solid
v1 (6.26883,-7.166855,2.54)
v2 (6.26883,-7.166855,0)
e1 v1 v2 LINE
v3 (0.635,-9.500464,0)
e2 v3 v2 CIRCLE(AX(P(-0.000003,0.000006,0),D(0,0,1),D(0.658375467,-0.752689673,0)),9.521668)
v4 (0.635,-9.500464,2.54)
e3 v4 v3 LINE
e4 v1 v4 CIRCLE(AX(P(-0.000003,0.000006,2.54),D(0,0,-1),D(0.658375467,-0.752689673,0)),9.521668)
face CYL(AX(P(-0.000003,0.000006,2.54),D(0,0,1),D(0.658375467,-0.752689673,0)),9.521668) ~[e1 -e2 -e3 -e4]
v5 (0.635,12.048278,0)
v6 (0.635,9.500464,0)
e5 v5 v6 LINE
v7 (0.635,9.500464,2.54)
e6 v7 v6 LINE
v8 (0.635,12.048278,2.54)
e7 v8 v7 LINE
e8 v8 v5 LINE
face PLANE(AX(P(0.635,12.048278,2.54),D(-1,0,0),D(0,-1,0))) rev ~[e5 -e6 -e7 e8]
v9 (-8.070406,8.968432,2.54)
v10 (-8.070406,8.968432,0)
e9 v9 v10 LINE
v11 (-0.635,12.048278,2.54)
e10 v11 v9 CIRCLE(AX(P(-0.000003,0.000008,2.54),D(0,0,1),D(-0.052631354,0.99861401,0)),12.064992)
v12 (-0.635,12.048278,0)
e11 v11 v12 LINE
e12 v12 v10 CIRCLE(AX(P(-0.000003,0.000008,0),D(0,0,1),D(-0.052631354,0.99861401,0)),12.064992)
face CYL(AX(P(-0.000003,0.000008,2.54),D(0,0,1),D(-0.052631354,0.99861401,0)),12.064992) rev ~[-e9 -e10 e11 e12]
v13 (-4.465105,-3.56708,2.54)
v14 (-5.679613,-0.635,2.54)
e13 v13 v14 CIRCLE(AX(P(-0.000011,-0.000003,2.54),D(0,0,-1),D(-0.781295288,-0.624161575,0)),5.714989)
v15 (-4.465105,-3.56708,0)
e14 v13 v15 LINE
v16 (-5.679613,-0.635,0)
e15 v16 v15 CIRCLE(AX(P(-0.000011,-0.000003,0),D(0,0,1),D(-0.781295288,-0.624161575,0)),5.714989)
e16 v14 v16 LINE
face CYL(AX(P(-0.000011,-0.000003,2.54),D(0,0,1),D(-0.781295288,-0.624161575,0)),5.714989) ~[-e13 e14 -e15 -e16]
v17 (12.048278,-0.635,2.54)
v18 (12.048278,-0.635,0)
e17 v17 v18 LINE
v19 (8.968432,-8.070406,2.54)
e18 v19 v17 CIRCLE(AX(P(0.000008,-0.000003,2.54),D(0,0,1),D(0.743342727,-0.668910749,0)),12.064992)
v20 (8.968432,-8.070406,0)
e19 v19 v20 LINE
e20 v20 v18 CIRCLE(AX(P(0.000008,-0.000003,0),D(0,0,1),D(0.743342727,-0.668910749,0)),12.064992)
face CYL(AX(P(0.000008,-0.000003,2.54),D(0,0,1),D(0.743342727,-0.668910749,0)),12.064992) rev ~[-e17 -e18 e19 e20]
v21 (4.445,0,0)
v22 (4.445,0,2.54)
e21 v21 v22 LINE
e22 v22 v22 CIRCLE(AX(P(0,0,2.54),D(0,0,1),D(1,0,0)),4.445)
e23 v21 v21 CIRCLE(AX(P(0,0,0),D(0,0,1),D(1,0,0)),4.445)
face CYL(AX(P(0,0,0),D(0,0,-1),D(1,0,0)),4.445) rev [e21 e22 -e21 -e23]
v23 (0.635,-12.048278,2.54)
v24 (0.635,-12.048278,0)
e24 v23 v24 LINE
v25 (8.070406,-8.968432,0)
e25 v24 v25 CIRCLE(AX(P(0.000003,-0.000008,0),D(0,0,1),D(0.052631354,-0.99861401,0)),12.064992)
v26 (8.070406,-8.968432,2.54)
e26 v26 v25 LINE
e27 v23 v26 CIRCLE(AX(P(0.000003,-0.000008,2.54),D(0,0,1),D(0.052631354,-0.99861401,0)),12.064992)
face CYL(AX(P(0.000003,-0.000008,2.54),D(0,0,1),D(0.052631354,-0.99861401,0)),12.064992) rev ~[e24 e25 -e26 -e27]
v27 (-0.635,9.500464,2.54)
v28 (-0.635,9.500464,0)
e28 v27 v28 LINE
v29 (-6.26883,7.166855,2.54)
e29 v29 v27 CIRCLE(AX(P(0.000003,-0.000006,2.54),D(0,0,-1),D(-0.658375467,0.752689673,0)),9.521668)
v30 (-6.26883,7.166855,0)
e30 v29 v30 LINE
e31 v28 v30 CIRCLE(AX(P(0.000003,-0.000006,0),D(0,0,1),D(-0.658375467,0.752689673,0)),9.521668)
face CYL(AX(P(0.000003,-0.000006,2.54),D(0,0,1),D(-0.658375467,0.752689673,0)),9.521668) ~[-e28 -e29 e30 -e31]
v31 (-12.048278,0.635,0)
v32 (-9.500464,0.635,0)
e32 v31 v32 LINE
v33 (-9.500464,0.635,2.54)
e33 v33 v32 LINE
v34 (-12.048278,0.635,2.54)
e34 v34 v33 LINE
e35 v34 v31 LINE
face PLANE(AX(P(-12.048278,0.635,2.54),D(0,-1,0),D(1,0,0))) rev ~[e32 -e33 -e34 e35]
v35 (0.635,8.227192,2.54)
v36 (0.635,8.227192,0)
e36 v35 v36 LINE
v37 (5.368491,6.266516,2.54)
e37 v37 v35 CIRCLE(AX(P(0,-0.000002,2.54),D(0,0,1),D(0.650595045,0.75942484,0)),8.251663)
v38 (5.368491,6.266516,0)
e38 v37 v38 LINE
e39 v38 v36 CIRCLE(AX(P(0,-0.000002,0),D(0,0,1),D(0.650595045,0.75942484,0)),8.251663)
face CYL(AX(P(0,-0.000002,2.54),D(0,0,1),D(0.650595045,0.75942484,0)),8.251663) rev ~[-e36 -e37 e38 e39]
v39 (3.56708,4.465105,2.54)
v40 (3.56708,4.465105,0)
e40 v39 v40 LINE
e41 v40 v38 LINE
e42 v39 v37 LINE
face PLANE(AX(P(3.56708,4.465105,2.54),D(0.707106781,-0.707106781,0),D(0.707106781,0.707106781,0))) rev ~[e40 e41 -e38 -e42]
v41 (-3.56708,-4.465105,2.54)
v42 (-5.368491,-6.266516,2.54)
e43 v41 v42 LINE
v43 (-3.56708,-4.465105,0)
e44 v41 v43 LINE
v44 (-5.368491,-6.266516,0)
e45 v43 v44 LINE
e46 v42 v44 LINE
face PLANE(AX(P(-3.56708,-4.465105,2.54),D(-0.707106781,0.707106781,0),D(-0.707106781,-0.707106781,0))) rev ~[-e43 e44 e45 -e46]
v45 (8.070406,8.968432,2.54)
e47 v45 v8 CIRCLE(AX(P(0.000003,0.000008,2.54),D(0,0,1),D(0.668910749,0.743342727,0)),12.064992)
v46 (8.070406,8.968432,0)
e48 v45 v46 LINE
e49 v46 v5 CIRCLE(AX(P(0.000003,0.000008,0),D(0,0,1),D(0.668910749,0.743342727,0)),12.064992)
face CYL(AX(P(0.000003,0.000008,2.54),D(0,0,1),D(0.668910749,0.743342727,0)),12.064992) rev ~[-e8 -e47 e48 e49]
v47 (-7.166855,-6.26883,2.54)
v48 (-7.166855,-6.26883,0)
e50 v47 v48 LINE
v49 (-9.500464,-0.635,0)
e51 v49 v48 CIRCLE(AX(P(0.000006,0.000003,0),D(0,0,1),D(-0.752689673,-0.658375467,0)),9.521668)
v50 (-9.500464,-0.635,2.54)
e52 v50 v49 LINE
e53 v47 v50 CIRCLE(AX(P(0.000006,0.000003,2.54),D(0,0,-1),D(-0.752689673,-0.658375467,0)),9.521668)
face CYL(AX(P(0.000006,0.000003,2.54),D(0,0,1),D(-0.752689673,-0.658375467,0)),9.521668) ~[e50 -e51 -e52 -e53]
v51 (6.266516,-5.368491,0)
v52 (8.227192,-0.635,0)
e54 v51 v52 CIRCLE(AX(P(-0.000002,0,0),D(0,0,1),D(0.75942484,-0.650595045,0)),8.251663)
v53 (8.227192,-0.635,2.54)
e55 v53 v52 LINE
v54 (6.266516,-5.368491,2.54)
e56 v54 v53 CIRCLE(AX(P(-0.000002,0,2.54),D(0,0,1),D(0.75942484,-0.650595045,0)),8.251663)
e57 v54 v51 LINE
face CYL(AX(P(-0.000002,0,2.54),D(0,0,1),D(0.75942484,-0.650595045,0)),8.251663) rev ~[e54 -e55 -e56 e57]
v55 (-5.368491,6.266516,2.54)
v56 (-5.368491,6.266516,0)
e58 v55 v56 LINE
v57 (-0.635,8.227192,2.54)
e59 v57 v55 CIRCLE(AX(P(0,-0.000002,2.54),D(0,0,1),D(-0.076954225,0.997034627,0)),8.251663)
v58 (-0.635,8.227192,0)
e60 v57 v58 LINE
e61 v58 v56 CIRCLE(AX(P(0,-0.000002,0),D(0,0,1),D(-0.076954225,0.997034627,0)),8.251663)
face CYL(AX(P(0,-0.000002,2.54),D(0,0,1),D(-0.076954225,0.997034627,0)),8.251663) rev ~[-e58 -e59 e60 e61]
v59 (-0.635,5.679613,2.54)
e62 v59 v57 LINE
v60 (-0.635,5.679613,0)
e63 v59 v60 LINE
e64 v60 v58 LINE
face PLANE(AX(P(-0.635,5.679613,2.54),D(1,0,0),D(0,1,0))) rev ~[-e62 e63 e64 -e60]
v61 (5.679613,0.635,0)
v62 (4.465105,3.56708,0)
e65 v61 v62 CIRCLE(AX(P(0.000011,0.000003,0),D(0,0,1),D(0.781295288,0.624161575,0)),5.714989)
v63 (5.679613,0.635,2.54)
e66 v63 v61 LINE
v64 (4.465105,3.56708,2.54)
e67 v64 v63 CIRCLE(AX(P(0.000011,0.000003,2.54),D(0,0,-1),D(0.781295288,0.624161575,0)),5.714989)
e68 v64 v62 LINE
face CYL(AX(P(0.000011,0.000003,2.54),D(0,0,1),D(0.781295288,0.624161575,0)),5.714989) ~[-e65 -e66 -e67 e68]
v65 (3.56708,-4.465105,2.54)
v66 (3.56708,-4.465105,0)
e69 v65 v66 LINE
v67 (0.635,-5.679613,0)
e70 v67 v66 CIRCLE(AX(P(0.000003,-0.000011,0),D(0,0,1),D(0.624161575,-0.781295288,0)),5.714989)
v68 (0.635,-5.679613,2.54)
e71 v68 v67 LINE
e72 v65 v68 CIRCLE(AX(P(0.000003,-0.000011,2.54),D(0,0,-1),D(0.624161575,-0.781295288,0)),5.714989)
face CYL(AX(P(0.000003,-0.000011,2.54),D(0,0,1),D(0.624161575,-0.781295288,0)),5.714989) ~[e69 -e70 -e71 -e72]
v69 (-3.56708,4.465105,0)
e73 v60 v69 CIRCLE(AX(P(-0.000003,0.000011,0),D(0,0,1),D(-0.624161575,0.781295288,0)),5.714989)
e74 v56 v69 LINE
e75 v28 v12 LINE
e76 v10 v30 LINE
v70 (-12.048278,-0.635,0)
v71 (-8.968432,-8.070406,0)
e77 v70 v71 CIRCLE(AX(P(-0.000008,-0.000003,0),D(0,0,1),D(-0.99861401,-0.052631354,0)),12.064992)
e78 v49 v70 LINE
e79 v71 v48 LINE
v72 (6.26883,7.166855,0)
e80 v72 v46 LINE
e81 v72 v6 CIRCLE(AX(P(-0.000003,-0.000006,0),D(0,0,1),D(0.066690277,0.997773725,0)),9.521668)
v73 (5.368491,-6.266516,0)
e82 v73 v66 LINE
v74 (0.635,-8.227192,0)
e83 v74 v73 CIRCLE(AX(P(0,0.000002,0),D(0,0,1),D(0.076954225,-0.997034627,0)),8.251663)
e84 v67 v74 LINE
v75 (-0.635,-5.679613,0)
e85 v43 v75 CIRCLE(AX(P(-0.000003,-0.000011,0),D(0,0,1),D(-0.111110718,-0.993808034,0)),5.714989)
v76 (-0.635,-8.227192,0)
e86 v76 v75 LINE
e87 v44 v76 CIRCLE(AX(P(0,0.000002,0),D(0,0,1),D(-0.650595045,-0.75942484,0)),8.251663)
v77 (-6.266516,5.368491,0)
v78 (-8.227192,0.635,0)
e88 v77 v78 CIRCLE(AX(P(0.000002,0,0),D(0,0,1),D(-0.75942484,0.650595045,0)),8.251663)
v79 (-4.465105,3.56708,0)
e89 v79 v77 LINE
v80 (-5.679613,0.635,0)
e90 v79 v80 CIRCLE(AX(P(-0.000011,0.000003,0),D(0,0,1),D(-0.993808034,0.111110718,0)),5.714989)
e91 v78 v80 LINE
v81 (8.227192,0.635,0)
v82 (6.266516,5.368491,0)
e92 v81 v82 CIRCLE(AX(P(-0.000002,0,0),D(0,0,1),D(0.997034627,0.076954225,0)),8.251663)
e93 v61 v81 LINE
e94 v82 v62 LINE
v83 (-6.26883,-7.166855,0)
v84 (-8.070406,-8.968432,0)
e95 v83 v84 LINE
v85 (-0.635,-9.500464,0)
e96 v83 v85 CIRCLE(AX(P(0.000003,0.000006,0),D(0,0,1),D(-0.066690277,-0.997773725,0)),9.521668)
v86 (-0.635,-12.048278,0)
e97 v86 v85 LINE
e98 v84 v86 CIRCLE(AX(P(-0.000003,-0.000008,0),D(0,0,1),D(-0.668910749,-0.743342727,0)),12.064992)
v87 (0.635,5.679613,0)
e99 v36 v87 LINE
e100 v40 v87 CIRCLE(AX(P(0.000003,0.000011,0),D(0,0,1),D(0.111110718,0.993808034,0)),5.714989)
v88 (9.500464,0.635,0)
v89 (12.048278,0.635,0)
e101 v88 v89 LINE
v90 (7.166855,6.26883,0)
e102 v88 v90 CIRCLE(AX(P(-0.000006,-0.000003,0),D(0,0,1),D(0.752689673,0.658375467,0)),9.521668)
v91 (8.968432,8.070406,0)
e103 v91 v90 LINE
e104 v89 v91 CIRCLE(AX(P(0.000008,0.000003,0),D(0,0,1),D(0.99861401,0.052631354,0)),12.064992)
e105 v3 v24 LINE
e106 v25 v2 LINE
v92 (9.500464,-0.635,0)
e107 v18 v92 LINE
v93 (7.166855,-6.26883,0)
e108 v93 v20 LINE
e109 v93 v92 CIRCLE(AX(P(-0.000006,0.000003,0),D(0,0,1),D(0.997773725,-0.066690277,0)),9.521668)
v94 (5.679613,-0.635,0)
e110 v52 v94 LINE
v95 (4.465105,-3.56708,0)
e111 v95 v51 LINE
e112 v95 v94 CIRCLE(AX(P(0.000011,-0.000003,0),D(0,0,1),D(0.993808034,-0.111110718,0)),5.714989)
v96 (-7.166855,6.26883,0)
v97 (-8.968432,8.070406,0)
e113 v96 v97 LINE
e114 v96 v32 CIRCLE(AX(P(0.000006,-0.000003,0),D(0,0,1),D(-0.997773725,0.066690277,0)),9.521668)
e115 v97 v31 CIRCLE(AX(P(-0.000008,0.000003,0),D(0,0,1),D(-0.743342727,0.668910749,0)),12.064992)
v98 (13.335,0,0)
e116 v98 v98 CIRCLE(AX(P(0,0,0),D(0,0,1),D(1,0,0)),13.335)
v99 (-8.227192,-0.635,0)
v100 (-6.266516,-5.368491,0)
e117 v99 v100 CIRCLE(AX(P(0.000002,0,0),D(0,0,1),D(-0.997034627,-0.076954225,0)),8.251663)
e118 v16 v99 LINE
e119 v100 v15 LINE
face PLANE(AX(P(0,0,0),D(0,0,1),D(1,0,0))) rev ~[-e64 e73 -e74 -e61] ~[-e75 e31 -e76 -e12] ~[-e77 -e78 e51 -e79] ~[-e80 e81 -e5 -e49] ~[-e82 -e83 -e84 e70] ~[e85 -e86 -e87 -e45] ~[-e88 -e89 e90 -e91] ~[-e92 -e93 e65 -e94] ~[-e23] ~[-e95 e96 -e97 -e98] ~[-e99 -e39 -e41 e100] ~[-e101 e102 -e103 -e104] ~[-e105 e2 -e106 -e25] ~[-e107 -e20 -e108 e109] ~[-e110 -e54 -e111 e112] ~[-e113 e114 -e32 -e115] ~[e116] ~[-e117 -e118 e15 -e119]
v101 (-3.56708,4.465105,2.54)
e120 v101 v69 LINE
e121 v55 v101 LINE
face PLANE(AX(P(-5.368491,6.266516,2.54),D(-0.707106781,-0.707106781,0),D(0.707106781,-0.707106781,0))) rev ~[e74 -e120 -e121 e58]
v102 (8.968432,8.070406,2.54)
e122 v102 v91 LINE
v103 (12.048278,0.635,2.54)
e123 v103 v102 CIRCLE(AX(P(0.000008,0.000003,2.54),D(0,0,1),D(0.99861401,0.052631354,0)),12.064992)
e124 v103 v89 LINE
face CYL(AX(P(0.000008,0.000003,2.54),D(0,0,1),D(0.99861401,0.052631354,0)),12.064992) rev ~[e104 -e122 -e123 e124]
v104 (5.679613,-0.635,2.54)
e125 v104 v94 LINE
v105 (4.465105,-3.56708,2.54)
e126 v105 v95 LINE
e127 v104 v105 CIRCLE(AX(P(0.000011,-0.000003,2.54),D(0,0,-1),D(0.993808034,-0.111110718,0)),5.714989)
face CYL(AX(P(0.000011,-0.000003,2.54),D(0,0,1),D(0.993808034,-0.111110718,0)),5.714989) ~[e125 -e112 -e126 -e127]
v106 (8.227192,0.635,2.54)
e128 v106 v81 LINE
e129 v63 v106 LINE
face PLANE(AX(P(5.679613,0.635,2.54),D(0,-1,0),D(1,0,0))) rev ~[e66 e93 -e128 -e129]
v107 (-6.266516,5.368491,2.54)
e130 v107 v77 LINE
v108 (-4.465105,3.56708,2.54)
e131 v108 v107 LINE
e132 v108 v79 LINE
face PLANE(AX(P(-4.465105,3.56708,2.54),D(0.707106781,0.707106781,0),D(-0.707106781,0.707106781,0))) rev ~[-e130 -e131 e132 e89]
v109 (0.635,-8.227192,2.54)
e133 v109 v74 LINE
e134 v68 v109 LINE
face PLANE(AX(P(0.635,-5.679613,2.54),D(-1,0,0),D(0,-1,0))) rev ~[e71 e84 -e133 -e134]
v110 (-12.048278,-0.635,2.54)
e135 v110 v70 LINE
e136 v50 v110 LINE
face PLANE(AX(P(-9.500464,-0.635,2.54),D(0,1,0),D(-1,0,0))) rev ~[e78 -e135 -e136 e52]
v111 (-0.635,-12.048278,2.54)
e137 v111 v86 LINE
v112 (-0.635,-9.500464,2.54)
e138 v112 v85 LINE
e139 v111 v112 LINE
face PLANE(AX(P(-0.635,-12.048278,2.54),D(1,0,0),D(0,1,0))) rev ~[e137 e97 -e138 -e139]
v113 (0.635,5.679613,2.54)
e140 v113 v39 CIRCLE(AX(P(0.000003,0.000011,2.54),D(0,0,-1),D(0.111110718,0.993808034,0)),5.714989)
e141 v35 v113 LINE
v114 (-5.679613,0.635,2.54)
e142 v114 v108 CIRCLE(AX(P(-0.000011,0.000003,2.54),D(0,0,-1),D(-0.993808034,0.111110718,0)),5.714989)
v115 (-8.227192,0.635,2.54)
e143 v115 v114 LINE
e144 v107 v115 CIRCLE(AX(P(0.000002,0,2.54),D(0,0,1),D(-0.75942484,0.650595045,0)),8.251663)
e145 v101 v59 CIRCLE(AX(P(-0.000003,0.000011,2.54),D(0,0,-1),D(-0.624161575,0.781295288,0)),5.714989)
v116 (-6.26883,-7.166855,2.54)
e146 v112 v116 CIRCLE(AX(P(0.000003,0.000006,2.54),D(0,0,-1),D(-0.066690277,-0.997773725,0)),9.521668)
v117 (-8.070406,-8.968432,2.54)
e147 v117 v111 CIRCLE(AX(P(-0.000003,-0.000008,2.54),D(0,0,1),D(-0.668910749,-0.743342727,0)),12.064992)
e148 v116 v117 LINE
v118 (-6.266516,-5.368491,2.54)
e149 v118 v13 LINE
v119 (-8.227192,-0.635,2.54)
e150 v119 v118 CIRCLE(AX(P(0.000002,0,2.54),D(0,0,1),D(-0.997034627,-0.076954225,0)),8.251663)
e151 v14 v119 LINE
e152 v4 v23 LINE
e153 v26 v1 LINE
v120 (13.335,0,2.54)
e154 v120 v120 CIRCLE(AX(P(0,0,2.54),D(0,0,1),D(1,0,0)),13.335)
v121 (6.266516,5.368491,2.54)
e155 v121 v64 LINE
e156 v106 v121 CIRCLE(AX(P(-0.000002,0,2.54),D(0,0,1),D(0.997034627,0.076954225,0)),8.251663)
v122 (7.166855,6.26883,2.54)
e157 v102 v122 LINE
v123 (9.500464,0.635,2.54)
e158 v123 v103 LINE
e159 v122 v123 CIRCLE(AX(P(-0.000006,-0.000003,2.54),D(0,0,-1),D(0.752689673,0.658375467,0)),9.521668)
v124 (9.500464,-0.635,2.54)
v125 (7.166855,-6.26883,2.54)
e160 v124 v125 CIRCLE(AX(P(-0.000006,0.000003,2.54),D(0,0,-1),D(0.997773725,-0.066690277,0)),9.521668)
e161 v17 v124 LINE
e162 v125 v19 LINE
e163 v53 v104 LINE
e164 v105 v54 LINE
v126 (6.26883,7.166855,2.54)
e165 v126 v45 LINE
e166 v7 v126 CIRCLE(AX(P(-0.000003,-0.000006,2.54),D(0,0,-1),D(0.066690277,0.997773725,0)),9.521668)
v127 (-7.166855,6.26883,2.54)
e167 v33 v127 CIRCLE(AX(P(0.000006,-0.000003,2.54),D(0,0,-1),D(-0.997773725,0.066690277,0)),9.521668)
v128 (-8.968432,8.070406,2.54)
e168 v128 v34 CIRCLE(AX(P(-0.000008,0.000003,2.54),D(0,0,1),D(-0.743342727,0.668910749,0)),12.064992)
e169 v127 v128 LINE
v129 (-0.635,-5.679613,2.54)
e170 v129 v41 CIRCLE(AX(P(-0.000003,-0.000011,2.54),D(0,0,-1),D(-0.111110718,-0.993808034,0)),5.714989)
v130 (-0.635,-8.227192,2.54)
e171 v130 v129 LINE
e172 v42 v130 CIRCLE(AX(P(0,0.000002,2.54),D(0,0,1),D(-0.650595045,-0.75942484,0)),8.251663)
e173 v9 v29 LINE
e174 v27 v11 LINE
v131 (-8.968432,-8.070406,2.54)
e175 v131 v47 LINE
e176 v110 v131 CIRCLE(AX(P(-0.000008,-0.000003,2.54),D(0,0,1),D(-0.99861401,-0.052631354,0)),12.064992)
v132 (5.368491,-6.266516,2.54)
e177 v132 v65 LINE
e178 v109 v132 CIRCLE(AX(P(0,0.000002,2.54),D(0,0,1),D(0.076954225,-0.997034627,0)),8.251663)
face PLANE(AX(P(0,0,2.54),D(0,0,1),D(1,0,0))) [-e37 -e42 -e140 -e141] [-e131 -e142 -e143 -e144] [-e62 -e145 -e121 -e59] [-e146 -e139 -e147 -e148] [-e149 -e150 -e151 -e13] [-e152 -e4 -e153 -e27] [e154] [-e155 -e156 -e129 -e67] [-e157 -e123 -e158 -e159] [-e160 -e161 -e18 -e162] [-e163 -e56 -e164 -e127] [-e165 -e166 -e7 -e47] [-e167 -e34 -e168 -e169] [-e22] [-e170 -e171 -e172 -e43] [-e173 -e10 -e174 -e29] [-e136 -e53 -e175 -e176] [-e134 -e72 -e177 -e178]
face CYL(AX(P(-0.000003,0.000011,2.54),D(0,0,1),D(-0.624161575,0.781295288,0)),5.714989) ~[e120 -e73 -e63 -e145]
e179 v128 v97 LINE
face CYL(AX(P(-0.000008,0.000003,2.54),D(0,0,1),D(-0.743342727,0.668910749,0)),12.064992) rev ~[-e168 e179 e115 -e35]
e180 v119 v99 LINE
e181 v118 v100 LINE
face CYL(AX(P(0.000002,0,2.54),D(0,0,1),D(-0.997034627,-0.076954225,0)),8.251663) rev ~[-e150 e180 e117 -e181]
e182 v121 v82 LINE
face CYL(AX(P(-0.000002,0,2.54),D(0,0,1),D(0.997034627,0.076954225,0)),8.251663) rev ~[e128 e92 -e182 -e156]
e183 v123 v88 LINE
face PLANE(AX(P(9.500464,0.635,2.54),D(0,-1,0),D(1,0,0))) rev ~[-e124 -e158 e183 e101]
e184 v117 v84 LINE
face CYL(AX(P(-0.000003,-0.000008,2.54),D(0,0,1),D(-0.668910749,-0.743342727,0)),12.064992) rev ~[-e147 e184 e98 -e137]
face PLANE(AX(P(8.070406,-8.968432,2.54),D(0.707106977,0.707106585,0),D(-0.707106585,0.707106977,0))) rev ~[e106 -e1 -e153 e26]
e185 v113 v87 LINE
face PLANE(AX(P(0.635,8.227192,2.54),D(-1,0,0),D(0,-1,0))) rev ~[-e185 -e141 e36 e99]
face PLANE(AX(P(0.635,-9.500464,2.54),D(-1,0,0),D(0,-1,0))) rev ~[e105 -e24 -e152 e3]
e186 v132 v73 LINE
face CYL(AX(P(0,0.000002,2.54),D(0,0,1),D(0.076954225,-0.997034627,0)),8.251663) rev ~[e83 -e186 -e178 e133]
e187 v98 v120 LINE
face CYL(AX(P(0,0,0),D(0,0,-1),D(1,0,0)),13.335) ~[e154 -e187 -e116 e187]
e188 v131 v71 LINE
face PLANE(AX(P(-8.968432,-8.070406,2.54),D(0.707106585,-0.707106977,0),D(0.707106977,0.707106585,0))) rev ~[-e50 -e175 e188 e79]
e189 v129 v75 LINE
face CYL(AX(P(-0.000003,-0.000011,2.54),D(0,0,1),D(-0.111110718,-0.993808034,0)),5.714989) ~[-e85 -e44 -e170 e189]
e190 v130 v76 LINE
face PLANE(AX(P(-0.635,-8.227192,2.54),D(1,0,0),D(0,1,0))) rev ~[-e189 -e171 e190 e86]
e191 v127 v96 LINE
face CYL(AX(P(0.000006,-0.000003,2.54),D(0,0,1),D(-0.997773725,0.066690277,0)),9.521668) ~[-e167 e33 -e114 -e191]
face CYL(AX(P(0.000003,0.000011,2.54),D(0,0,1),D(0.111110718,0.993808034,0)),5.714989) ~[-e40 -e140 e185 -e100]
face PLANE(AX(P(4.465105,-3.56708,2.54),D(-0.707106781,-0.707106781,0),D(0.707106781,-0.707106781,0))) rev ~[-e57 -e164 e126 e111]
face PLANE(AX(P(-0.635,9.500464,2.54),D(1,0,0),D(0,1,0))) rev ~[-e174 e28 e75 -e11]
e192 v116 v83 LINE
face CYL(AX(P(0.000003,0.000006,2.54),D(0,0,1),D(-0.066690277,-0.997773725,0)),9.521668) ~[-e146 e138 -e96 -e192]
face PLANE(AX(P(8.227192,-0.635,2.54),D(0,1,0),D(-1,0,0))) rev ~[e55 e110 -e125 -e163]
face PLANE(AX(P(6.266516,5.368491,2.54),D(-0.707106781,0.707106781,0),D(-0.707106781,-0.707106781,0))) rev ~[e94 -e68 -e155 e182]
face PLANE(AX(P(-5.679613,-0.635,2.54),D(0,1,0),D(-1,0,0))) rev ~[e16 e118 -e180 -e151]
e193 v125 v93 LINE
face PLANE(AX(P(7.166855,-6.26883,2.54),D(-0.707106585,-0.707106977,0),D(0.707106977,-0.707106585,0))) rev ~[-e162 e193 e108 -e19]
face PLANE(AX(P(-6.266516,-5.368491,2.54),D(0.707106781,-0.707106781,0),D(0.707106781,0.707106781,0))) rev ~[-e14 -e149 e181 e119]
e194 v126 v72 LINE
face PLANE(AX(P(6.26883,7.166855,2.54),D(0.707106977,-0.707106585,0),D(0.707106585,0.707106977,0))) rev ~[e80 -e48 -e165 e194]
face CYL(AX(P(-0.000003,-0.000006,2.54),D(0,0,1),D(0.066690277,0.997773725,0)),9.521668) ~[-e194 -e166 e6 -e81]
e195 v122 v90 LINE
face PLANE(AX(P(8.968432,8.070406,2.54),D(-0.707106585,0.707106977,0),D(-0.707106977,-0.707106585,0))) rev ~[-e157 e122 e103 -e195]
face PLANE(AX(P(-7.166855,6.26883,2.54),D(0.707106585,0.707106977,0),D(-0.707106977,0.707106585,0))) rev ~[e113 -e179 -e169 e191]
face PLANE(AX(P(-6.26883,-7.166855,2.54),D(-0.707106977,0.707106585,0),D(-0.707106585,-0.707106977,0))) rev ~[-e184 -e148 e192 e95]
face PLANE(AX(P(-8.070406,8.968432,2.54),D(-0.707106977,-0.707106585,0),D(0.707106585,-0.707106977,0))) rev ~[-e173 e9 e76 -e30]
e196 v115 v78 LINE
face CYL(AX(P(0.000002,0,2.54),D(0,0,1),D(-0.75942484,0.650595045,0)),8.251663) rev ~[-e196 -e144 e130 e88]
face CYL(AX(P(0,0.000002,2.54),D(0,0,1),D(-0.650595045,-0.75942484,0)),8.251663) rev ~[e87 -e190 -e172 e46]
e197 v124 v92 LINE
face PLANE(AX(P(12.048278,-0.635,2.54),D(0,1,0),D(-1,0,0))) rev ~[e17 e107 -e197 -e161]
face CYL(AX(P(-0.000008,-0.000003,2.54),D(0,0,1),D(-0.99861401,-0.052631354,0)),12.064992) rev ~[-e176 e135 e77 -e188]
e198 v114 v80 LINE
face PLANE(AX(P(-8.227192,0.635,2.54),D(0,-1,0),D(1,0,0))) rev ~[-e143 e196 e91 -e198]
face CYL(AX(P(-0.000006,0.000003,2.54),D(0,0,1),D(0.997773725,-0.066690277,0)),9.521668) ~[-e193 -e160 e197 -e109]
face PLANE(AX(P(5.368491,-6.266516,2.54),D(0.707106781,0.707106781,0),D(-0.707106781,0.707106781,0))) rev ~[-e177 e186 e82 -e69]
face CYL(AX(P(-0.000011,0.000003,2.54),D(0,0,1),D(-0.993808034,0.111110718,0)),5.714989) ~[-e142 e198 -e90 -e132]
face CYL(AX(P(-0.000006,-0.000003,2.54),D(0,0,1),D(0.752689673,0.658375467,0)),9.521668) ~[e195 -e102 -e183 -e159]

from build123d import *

# Parameters (mm, degrees)
F0_R     = 13.335
F0_R_2   = 4.445
F1_DEPTH = 2.54
F3_DEPTH = 2.541


with BuildPart() as f1:
    # F0 (on Top) → F1 (new body)
    with BuildSketch(Plane.XY):
        Circle(F0_R)
        Circle(F0_R_2, mode=Mode.SUBTRACT)
    extrude(amount=F1_DEPTH)

    # F2 (on face) → F3 (cut, through all)
    with BuildSketch(Plane.XY.offset(2.54)):
        with BuildLine():
            ThreePointArc((-0.635, -5.679613), (-2.187036, -5.279972), (-3.56708, -4.465105))
            Line((-3.56708, -4.465105), (-5.368491, -6.266516))
            ThreePointArc((-5.368491, -6.266516), (-3.157774, -7.623541), (-0.635, -8.227192))
            Line((-0.635, -8.227192), (-0.635, -5.679613))
        make_face()
        with BuildLine():
            Line((-6.26883, -7.166855), (-8.070406, -8.968432))
            ThreePointArc((-8.070406, -8.968432), (-4.617076, -11.146607), (-0.635, -12.048278))
            Line((-0.635, -12.048278), (-0.635, -9.500464))
            ThreePointArc((-0.635, -9.500464), (-3.643782, -8.796868), (-6.26883, -7.166855))
        make_face()
        with BuildLine():
            Line((0.635, -5.679613), (0.635, -8.227192))
            ThreePointArc((0.635, -8.227192), (3.157774, -7.623541), (5.368491, -6.266516))
            Line((5.368491, -6.266516), (3.56708, -4.465105))
            ThreePointArc((3.56708, -4.465105), (2.187036, -5.279972), (0.635, -5.679613))
        make_face()
        with BuildLine():
            Line((0.635, -9.500464), (0.635, -12.048278))
            ThreePointArc((0.635, -12.048278), (4.617076, -11.146607), (8.070406, -8.968432))
            Line((8.070406, -8.968432), (6.26883, -7.166855))
            ThreePointArc((6.26883, -7.166855), (3.643782, -8.796868), (0.635, -9.500464))
        make_face()
        with BuildLine():
            Line((4.465105, -3.56708), (6.266516, -5.368491))
            ThreePointArc((6.266516, -5.368491), (7.623541, -3.157774), (8.227192, -0.635))
            Line((8.227192, -0.635), (5.679613, -0.635))
            ThreePointArc((5.679613, -0.635), (5.279972, -2.187036), (4.465105, -3.56708))
        make_face()
        with BuildLine():
            Line((7.166855, -6.26883), (8.968432, -8.070406))
            ThreePointArc((8.968432, -8.070406), (11.146607, -4.617076), (12.048278, -0.635))
            Line((12.048278, -0.635), (9.500464, -0.635))
            ThreePointArc((9.500464, -0.635), (8.796868, -3.643782), (7.166855, -6.26883))
        make_face()
        with BuildLine():
            Line((5.679613, 0.635), (8.227192, 0.635))
            ThreePointArc((8.227192, 0.635), (7.623541, 3.157774), (6.266516, 5.368491))
            Line((6.266516, 5.368491), (4.465105, 3.56708))
            ThreePointArc((4.465105, 3.56708), (5.279972, 2.187036), (5.679613, 0.635))
        make_face()
        with BuildLine():
            Line((9.500464, 0.635), (12.048278, 0.635))
            ThreePointArc((12.048278, 0.635), (11.146607, 4.617076), (8.968432, 8.070406))
            Line((8.968432, 8.070406), (7.166855, 6.26883))
            ThreePointArc((7.166855, 6.26883), (8.796868, 3.643782), (9.500464, 0.635))
        make_face()
        with BuildLine():
            Line((3.56708, 4.465105), (5.368491, 6.266516))
            ThreePointArc((5.368491, 6.266516), (3.157774, 7.623541), (0.635, 8.227192))
            Line((0.635, 8.227192), (0.635, 5.679613))
            ThreePointArc((0.635, 5.679613), (2.187036, 5.279972), (3.56708, 4.465105))
        make_face()
        with BuildLine():
            Line((6.26883, 7.166855), (8.070406, 8.968432))
            ThreePointArc((8.070406, 8.968432), (4.617076, 11.146607), (0.635, 12.048278))
            Line((0.635, 12.048278), (0.635, 9.500464))
            ThreePointArc((0.635, 9.500464), (3.643782, 8.796868), (6.26883, 7.166855))
        make_face()
        with BuildLine():
            Line((-0.635, 5.679613), (-0.635, 8.227192))
            ThreePointArc((-0.635, 8.227192), (-3.157774, 7.623541), (-5.368491, 6.266516))
            Line((-5.368491, 6.266516), (-3.56708, 4.465105))
            ThreePointArc((-3.56708, 4.465105), (-2.187036, 5.279972), (-0.635, 5.679613))
        make_face()
        with BuildLine():
            Line((-0.635, 9.500464), (-0.635, 12.048278))
            ThreePointArc((-0.635, 12.048278), (-4.617076, 11.146607), (-8.070406, 8.968432))
            Line((-8.070406, 8.968432), (-6.26883, 7.166855))
            ThreePointArc((-6.26883, 7.166855), (-3.643782, 8.796868), (-0.635, 9.500464))
        make_face()
        with BuildLine():
            Line((-4.465105, 3.56708), (-6.266516, 5.368491))
            ThreePointArc((-6.266516, 5.368491), (-7.623541, 3.157774), (-8.227192, 0.635))
            Line((-8.227192, 0.635), (-5.679613, 0.635))
            ThreePointArc((-5.679613, 0.635), (-5.279972, 2.187036), (-4.465105, 3.56708))
        make_face()
        with BuildLine():
            Line((-7.166855, 6.26883), (-8.968432, 8.070406))
            ThreePointArc((-8.968432, 8.070406), (-11.146607, 4.617076), (-12.048278, 0.635))
            Line((-12.048278, 0.635), (-9.500464, 0.635))
            ThreePointArc((-9.500464, 0.635), (-8.796868, 3.643782), (-7.166855, 6.26883))
        make_face()
        with BuildLine():
            Line((-5.679613, -0.635), (-8.227192, -0.635))
            ThreePointArc((-8.227192, -0.635), (-7.623541, -3.157774), (-6.266516, -5.368491))
            Line((-6.266516, -5.368491), (-4.465105, -3.56708))
            ThreePointArc((-4.465105, -3.56708), (-5.279972, -2.187036), (-5.679613, -0.635))
        make_face()
        with BuildLine():
            Line((-9.500464, -0.635), (-12.048278, -0.635))
            ThreePointArc((-12.048278, -0.635), (-11.146607, -4.617076), (-8.968432, -8.070406))
            Line((-8.968432, -8.070406), (-7.166855, -6.26883))
            ThreePointArc((-7.166855, -6.26883), (-8.796868, -3.643782), (-9.500464, -0.635))
        make_face()
    extrude(amount=-F3_DEPTH, mode=Mode.SUBTRACT)


solid = f1.part
